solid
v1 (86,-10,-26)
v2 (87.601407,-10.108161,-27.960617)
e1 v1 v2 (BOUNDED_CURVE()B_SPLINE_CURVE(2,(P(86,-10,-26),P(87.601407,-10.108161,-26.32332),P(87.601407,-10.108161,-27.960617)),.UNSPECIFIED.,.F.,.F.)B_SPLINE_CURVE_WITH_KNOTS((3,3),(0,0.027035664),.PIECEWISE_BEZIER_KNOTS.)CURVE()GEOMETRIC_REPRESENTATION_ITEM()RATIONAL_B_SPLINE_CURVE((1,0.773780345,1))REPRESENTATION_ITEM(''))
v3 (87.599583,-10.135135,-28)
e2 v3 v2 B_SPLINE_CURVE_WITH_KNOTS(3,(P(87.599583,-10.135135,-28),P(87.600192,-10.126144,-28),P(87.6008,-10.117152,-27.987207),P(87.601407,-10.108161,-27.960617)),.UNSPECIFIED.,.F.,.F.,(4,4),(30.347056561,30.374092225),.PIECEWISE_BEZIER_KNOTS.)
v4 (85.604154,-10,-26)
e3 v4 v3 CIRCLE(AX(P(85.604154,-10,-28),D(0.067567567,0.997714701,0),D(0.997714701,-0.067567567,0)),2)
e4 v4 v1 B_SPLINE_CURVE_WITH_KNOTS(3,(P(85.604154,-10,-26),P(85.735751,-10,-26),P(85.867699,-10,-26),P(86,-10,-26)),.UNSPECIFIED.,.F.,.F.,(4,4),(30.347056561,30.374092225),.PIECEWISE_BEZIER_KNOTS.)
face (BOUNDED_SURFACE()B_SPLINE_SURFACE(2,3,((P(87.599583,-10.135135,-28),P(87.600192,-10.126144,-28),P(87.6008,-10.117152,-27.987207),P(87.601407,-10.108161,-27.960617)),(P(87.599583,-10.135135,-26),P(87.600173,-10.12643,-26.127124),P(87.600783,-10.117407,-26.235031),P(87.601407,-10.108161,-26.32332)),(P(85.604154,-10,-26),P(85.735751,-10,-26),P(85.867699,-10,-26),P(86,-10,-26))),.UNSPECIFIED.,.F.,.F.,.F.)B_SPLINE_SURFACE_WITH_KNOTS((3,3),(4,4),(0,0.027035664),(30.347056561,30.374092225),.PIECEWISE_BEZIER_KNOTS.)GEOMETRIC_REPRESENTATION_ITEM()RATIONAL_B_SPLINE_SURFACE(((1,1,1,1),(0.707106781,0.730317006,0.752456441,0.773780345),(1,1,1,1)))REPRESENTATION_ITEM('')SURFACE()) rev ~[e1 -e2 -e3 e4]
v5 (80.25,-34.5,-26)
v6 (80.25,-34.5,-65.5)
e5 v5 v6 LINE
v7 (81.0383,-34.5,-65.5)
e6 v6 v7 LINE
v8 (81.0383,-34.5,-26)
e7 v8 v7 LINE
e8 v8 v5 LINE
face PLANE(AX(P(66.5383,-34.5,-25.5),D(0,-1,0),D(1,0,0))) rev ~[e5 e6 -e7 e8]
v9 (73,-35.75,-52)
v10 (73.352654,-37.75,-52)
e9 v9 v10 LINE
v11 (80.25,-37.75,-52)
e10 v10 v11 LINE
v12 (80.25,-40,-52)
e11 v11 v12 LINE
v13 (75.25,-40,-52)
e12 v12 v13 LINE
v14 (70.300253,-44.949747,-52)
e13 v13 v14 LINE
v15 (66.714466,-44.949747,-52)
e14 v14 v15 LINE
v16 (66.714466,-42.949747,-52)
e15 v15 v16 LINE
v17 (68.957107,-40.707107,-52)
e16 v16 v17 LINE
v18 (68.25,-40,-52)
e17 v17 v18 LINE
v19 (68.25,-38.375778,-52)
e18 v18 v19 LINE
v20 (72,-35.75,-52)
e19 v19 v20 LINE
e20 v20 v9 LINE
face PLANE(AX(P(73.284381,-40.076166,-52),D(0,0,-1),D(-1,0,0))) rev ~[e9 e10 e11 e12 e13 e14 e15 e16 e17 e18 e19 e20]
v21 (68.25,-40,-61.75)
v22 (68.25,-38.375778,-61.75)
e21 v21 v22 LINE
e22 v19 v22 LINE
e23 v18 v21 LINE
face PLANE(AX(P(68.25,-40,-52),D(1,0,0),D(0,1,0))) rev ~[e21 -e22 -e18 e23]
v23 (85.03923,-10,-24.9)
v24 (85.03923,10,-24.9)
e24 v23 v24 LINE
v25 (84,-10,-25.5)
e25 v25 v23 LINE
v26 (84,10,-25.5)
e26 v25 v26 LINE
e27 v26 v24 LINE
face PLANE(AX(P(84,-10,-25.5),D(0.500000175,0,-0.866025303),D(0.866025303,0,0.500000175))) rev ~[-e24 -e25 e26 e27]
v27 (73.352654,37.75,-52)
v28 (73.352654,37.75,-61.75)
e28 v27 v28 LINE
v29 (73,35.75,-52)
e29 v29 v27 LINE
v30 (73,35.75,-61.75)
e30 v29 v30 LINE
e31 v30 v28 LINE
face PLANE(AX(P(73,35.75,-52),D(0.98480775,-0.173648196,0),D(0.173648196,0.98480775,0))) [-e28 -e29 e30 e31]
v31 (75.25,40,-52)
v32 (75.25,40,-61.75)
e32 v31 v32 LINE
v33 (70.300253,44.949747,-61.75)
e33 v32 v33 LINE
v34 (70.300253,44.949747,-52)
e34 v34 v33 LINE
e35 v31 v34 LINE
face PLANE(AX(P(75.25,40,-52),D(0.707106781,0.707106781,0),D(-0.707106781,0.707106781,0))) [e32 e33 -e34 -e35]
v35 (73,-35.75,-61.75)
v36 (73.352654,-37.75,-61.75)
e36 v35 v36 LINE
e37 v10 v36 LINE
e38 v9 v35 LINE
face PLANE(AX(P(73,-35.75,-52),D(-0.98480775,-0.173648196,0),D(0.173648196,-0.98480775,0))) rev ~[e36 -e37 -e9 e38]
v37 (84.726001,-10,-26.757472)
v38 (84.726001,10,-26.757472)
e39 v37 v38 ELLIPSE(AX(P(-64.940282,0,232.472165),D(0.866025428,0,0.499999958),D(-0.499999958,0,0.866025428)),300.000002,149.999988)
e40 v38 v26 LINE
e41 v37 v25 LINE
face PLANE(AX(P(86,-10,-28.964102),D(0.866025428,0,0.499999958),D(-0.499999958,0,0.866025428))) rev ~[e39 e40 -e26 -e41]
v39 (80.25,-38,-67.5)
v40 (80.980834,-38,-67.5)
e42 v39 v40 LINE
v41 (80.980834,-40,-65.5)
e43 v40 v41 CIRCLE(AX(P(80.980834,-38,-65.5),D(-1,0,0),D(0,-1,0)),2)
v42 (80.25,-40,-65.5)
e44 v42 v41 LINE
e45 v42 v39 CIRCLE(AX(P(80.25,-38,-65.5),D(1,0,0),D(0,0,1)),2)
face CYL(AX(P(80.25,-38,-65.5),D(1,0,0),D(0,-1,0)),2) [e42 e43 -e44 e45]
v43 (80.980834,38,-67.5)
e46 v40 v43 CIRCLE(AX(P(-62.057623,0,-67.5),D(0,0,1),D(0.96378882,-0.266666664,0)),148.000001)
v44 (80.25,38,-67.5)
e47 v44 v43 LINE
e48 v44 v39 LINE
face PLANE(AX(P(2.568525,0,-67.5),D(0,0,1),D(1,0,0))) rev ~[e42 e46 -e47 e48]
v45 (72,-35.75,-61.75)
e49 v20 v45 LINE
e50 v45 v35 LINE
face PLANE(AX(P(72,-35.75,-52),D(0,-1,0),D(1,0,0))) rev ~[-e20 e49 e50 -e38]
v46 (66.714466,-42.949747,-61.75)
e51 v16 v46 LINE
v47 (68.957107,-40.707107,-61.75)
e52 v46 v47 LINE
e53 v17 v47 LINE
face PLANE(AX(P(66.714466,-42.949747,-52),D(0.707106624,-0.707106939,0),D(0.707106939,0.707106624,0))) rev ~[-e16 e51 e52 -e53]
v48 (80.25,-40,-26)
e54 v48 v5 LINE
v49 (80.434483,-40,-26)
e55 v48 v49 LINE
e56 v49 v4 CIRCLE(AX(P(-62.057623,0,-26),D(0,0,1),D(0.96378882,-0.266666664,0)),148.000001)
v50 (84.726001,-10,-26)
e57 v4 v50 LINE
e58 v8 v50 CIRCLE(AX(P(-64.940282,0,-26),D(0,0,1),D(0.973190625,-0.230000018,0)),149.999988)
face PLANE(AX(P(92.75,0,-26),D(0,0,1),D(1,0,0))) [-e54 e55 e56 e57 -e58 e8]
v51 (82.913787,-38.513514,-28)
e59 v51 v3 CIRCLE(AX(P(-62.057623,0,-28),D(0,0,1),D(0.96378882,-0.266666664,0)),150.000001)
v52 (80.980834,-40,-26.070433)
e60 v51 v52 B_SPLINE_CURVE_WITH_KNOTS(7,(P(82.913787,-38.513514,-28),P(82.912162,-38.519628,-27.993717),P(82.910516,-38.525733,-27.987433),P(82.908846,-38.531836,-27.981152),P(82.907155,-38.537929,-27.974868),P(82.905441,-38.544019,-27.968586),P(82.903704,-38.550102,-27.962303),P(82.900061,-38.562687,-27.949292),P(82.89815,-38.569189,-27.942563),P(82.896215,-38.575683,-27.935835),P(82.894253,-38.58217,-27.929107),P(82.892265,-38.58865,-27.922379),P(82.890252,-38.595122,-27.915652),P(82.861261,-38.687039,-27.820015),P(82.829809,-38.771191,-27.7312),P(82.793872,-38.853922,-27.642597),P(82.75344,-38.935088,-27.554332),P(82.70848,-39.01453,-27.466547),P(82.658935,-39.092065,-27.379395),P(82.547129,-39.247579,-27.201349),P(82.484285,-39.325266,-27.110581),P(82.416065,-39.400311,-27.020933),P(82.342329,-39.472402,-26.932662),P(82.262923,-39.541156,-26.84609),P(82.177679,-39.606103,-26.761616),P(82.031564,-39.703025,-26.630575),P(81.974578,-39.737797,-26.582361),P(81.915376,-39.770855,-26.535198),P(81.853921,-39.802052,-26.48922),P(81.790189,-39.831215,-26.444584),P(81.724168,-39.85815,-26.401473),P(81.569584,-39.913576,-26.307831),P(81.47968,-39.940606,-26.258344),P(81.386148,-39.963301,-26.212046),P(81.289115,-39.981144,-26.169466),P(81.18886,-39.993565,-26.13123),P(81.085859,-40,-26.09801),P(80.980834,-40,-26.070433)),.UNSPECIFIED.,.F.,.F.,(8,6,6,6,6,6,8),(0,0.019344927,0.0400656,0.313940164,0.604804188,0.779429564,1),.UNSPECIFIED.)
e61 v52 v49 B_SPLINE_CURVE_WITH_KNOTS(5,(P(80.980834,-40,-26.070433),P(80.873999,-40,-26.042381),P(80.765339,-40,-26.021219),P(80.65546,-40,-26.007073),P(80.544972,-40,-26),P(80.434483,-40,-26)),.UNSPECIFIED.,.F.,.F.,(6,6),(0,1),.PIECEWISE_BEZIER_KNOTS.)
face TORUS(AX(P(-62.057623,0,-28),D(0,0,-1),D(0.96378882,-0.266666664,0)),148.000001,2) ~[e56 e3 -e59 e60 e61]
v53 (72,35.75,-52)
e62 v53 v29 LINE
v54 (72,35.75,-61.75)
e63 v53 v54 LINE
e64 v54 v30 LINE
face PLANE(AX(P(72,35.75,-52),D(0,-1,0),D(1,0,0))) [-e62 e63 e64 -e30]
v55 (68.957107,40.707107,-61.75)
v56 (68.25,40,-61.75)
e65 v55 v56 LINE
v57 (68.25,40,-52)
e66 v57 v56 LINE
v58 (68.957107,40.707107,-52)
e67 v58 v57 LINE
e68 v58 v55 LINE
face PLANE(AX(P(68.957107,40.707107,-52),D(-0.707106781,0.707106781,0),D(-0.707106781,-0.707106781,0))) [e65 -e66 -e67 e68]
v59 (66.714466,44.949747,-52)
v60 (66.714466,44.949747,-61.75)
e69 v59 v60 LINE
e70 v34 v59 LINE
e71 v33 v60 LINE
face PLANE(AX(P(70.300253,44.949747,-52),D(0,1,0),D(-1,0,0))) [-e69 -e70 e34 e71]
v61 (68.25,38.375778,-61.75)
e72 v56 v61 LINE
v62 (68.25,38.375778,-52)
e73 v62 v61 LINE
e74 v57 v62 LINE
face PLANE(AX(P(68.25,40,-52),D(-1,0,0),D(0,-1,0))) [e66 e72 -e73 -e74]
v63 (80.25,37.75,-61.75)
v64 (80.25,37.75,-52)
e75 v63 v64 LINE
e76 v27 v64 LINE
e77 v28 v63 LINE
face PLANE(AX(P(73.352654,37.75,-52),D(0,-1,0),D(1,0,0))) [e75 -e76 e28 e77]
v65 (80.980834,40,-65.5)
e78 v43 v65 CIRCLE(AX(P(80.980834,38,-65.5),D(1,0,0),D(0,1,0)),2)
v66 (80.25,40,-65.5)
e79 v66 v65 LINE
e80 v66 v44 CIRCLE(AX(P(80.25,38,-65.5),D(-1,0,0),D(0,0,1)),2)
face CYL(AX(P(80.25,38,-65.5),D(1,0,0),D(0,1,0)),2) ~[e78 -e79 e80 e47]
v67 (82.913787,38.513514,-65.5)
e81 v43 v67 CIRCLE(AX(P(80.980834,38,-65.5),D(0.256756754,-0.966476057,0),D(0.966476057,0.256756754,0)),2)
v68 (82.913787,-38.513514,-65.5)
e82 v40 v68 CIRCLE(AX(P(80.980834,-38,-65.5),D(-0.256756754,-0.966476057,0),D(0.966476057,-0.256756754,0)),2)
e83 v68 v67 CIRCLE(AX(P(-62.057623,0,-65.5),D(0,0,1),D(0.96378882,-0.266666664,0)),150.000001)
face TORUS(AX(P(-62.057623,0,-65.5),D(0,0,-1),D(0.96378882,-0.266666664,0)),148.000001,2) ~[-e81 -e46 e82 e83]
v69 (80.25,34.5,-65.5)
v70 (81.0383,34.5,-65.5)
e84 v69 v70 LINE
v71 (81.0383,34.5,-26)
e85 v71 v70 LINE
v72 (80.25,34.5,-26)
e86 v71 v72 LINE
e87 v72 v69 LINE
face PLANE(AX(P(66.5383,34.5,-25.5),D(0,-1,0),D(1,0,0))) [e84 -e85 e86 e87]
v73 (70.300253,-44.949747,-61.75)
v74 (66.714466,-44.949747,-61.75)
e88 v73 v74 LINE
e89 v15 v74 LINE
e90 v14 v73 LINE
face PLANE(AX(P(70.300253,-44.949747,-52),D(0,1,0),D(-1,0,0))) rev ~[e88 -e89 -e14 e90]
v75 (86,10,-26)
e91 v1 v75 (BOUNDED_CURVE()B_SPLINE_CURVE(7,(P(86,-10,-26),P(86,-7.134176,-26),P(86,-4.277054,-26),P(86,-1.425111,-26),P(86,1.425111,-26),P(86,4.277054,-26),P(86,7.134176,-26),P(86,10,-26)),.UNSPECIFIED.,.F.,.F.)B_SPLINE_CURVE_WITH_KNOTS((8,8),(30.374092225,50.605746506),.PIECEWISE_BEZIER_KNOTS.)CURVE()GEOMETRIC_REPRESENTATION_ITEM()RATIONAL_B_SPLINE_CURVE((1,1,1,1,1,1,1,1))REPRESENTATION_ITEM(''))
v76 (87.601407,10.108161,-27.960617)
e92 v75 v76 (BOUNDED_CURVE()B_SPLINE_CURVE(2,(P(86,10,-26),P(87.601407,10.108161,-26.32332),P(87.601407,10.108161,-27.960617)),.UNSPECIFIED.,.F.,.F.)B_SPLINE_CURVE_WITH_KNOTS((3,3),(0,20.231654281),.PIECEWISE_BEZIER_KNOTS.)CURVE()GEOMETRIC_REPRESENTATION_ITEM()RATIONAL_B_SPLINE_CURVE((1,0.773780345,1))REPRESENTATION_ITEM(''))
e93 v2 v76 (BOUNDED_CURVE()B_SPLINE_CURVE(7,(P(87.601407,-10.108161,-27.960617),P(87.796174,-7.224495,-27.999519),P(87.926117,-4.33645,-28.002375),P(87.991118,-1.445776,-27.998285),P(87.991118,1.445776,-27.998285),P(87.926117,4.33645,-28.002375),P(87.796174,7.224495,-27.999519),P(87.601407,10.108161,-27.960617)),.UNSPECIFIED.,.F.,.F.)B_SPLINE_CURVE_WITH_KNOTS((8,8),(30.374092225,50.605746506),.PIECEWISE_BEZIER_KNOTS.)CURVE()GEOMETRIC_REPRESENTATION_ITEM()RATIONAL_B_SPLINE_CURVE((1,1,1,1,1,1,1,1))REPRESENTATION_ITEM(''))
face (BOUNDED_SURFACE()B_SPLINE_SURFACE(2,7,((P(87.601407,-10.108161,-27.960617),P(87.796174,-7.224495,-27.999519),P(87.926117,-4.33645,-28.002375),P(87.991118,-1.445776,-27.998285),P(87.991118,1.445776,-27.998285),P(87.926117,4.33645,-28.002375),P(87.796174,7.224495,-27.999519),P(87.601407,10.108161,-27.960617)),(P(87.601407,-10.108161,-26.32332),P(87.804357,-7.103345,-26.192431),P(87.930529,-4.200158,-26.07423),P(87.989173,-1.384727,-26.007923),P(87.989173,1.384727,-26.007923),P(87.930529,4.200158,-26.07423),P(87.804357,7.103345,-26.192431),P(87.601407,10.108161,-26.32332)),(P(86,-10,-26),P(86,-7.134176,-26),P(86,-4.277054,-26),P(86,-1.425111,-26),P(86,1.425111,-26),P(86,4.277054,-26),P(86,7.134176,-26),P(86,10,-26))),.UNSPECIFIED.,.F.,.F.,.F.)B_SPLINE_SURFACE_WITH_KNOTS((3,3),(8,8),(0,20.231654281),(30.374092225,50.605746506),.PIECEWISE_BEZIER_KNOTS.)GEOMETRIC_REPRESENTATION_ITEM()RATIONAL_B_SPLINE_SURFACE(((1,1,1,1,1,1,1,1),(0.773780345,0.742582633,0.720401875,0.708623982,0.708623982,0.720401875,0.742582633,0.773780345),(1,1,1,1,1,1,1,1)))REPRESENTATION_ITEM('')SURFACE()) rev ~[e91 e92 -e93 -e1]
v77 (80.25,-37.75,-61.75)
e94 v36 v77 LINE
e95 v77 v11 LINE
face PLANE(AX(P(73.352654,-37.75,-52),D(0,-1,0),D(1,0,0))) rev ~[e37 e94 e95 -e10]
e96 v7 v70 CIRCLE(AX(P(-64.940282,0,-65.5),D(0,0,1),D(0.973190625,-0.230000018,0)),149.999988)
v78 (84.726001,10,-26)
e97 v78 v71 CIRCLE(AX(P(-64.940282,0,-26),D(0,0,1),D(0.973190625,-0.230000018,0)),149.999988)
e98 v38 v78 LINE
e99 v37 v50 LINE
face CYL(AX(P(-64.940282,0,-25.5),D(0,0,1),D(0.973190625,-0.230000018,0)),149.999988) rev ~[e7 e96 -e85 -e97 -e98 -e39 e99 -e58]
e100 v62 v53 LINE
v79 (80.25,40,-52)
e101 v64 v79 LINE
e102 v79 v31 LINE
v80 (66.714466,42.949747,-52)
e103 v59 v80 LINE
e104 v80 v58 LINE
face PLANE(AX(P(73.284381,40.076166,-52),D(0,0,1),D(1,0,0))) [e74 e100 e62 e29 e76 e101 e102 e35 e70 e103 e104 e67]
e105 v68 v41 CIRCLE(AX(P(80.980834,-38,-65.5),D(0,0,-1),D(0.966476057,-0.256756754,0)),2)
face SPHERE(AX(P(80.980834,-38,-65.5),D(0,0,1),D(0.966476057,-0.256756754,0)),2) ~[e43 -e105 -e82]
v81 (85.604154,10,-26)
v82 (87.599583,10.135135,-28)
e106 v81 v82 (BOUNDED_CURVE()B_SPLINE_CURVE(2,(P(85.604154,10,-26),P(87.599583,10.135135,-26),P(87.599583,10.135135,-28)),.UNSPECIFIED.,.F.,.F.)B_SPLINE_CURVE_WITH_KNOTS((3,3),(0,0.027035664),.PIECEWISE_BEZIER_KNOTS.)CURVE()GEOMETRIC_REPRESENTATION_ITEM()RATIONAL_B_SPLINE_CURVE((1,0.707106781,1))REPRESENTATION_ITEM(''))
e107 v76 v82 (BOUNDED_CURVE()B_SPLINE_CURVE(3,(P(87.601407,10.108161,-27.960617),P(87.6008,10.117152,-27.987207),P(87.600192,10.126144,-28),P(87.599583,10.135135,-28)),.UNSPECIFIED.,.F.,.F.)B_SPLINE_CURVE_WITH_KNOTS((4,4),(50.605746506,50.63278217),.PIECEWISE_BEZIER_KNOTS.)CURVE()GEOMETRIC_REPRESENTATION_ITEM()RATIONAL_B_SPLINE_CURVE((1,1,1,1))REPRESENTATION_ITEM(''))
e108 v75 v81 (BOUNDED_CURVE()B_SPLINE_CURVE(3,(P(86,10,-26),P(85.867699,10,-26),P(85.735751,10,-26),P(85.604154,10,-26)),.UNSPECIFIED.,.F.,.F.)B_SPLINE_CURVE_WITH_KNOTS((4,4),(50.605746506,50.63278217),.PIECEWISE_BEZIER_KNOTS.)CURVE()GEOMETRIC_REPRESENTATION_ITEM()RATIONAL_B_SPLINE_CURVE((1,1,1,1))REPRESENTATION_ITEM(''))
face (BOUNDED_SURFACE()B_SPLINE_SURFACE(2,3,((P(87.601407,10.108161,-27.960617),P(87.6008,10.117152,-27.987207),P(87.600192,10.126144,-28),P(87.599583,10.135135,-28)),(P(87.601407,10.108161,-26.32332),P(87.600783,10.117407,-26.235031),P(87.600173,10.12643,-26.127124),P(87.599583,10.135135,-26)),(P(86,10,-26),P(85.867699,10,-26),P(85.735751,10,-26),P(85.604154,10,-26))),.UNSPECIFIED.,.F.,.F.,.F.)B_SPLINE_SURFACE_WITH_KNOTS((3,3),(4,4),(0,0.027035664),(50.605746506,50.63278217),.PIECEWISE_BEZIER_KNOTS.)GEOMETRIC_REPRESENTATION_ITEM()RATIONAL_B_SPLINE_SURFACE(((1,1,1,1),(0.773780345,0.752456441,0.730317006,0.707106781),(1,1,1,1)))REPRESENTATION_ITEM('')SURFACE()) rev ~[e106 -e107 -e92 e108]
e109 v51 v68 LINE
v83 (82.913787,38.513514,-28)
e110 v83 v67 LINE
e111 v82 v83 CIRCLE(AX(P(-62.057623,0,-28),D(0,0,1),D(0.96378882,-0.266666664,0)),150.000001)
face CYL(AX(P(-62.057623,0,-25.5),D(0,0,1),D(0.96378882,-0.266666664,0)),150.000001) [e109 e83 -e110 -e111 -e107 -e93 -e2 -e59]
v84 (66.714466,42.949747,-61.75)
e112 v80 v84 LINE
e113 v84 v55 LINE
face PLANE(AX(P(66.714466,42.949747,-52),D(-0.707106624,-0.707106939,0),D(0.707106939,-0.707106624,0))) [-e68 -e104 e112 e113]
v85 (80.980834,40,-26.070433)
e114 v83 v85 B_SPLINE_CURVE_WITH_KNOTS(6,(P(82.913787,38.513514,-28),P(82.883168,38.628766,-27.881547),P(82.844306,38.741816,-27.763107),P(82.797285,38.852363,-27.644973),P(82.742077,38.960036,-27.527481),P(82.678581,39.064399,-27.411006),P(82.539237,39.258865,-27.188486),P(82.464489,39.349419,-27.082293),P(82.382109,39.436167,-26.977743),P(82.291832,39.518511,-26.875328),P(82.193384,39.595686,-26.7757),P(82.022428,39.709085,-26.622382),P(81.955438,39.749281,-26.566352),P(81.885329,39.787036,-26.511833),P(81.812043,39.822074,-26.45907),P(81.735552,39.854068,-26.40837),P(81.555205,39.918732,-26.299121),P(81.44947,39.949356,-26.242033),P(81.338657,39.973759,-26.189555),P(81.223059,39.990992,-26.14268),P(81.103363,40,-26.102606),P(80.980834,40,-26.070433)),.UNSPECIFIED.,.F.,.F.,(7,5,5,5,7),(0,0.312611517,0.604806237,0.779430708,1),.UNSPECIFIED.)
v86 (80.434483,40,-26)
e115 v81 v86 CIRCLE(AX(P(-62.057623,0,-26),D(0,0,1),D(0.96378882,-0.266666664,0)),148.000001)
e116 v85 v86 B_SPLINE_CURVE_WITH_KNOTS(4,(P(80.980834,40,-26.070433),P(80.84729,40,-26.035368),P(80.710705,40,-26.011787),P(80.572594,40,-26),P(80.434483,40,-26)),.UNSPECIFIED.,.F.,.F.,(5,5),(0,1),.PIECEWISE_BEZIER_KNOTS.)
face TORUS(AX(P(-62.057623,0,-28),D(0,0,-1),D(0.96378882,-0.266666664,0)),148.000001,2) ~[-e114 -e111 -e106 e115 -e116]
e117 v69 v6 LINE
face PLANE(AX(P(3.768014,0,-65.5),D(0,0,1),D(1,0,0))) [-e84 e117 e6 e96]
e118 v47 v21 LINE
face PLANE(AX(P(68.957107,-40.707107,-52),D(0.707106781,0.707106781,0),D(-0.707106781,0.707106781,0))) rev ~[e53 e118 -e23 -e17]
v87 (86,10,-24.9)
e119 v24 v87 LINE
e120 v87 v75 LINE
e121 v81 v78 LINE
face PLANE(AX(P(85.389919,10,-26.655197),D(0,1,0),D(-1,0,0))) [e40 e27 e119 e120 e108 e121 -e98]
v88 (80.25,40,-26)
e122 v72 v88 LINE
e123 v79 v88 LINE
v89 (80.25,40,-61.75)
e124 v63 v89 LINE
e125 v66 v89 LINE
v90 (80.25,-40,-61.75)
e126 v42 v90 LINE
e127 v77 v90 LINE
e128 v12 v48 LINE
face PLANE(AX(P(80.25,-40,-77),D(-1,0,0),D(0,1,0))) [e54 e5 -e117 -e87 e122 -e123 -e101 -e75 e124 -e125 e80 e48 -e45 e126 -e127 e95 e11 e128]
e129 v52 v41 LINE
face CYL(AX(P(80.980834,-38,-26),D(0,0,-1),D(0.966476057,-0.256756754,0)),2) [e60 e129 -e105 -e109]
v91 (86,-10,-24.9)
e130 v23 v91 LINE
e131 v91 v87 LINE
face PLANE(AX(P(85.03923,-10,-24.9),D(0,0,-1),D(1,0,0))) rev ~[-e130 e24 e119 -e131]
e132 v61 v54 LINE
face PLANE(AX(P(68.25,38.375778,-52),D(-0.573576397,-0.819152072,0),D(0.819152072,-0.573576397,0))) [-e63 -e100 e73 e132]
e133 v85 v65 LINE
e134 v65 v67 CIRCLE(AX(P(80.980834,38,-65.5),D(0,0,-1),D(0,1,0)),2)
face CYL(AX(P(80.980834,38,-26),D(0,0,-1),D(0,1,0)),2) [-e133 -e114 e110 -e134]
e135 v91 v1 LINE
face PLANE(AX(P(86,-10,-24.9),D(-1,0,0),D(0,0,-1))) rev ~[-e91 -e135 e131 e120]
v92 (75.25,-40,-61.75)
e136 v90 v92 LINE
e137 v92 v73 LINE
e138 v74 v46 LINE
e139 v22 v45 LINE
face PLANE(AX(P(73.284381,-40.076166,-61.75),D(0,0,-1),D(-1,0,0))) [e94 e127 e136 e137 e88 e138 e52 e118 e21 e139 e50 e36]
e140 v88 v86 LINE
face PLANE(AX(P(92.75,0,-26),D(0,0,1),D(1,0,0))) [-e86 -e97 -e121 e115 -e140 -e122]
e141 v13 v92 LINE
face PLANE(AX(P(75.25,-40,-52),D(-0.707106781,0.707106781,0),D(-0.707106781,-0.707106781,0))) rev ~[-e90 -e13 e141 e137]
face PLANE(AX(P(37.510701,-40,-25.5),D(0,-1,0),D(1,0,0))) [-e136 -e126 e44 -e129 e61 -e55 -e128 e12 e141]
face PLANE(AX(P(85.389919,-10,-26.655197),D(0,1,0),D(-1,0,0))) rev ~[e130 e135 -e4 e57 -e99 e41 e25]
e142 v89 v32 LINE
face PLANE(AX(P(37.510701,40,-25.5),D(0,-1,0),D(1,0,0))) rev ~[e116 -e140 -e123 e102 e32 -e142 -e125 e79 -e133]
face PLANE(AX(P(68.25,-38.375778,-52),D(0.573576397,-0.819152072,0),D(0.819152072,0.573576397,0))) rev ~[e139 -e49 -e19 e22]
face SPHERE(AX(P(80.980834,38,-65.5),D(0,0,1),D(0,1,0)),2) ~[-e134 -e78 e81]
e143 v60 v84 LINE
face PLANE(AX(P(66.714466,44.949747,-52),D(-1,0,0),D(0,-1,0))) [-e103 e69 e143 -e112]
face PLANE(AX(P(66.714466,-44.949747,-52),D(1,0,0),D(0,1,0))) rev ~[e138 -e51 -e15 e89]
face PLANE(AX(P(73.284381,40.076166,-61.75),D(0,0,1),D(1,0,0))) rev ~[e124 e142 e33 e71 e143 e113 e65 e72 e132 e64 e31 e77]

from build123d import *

# Parameters (mm, degrees)
EXTRUDE136083_DEPTH                     = 20
EXTRUDE136083_ONTO_SKETCH302_ROLL_ANGLE = 90
EXTRUDE136073_DEPTH                     = 9.75
BOX023_W                                = 25
BOX023_H                                = 80
BOX023_DEPTH                            = 51
EXTRUDE136056_DEPTH                     = 40
EXTRUDE136055_DEPTH                     = 42
FILLET007_R                             = 2


with BuildPart() as extrude136083:
    # Sketch302 as drawn → Extrude136083 (new)
    with BuildSketch(Plane.XY):
        Polygon((2, -3.464102), (0, 0), (1.03923, 0.6), (2, 0.6), align=None)
    extrude(amount=-EXTRUDE136083_DEPTH)


with BuildPart() as extrude136083_1:
    # Extrude136083 onto Sketch302 roll: moved
    add(extrude136083.part.rotate(Axis((0, 0, 0), (1, 0, 0)), EXTRUDE136083_ONTO_SKETCH302_ROLL_ANGLE))


with BuildPart() as extrude136083_2:
    # Extrude136083 onto Sketch302 placement: moved
    add(extrude136083_1.part.moved(Location((0, -10, 0))))


with BuildPart() as extrude136083_3:
    # Extrude136083 placement: moved
    add(extrude136083_2.part.moved(Location((84, 0, 0))))


with BuildPart() as fusion034004041072:
    # Sketch294 → Extrude136073 (new body)
    with BuildSketch(Plane.XY):
        Polygon((-1, 35.75), (0, 35.75), (0.352654, 37.75), (8.25, 37.75), (8.25, 40), (2.25, 40), (-2.699747, 44.949747), (-6.285534, 44.949747), (-6.285534, 42.949747), (-4.042893, 40.707107), (-4.75, 40), (-4.75, 38.375778), align=None)
        Polygon((-1, -35.75), (0, -35.75), (0.352654, -37.75), (8.25, -37.75), (8.25, -40), (2.25, -40), (-2.699747, -44.949747), (-6.285534, -44.949747), (-6.285534, -42.949747), (-4.042893, -40.707107), (-4.75, -40), (-4.75, -38.375778), align=None)
    extrude(amount=-EXTRUDE136073_DEPTH)


with BuildPart() as fusion034004041072_1:
    # Extrude136073 placement: moved
    add(fusion034004041072.part.moved(Location((73, 0, -26.5))))

    # Fusion034004041072: union Extrude136083
    add(extrude136083_3.part)


with BuildPart() as cube020:
    # Box023 → Box023 (new body)
    with BuildSketch(Plane(origin=(80.25, -40, -51.5), x_dir=(1, 0, 0), z_dir=(0, 0, 1))):
        with Locations((12.5, 40)):
            Rectangle(BOX023_W, BOX023_H)
    extrude(amount=BOX023_DEPTH)


with BuildPart() as extrude136056:
    # Sketch277 → Extrude136056 (new body)
    with BuildSketch(Plane.XY):
        with BuildLine():
            ThreePointArc((81.0383, -34.5), (85.059706, 0), (81.0383, 34.5))
            Line((66.5383, 34.5), (81.0383, 34.5))
            Line((63.0383, 38), (66.5383, 34.5))
            Line((40.0383, 38), (63.0383, 38))
            Line((27.5383, 25.5), (40.0383, 38))
            Line((12.636376, 25.5), (27.5383, 25.5))
            Line((10.0383, 30), (12.636376, 25.5))
            Line((10.0383, 30), (-52.9617, 30))
            Line((-62.9617, 26), (-52.9617, 30))
            Line((-82.9617, 25), (-62.9617, 26))
            ThreePointArc((-82.9617, 25), (-85.059706, 0), (-82.9617, -25))
            Line((-82.9617, -25), (-62.9617, -26))
            Line((-62.9617, -26), (-52.9617, -30))
            Line((10.0383, -30), (-52.9617, -30))
            Line((10.0383, -30), (12.636376, -25.5))
            Line((12.636376, -25.5), (27.5383, -25.5))
            Line((27.5383, -25.5), (40.0383, -38))
            Line((40.0383, -38), (63.0383, -38))
            Line((63.0383, -38), (66.5383, -34.5))
            Line((66.5383, -34.5), (81.0383, -34.5))
        make_face()
    extrude(amount=-EXTRUDE136056_DEPTH)


with BuildPart() as batterycoverfillet007:
    # Sketch276 → Extrude136055 (new body)
    with BuildSketch(Plane.XY):
        with BuildLine():
            ThreePointArc((-84.489299, 32), (-87.942378, 0), (-84.489299, -32))
            Line((-84.489299, -32), (29.510701, -32))
            Line((29.510701, -32), (37.510701, -40))
            Line((37.510701, -40), (82.510701, -40))
            ThreePointArc((82.510701, -40), (87.942378, 0), (82.510701, 40))
            Line((37.510701, 40), (82.510701, 40))
            Line((29.510701, 32), (37.510701, 40))
            Line((-84.489299, 32), (29.510701, 32))
        make_face()
    extrude(amount=-EXTRUDE136055_DEPTH)

    # Cut009010006006006005016: cut Extrude136056
    add(extrude136056.part, mode=Mode.SUBTRACT)

    # Common001: intersect Cube020
    add(cube020.part, mode=Mode.INTERSECT)

    # Fusion034004041073: union Fusion034004041072
    add(fusion034004041072_1.part)

    # Fillet007
    fillet007_edges = [batterycoverfillet007.edges().sort_by_distance(p)[0] for p in [
        (81.380351, 40, -42),
        (87.942378, 0, -42),
        (81.380351, -40, -42),
        (82.510701, 40, -21.25),
        (87.942378, 0, -0.5),
        (82.510701, -40, -21.25),
    ]]
    fillet(fillet007_edges, radius=FILLET007_R)


with BuildPart() as batterycoverfillet007_1:
    # Fillet007 placement: moved
    add(batterycoverfillet007.part.moved(Location((0, 0, -25.5))))


solid = batterycoverfillet007_1.part
